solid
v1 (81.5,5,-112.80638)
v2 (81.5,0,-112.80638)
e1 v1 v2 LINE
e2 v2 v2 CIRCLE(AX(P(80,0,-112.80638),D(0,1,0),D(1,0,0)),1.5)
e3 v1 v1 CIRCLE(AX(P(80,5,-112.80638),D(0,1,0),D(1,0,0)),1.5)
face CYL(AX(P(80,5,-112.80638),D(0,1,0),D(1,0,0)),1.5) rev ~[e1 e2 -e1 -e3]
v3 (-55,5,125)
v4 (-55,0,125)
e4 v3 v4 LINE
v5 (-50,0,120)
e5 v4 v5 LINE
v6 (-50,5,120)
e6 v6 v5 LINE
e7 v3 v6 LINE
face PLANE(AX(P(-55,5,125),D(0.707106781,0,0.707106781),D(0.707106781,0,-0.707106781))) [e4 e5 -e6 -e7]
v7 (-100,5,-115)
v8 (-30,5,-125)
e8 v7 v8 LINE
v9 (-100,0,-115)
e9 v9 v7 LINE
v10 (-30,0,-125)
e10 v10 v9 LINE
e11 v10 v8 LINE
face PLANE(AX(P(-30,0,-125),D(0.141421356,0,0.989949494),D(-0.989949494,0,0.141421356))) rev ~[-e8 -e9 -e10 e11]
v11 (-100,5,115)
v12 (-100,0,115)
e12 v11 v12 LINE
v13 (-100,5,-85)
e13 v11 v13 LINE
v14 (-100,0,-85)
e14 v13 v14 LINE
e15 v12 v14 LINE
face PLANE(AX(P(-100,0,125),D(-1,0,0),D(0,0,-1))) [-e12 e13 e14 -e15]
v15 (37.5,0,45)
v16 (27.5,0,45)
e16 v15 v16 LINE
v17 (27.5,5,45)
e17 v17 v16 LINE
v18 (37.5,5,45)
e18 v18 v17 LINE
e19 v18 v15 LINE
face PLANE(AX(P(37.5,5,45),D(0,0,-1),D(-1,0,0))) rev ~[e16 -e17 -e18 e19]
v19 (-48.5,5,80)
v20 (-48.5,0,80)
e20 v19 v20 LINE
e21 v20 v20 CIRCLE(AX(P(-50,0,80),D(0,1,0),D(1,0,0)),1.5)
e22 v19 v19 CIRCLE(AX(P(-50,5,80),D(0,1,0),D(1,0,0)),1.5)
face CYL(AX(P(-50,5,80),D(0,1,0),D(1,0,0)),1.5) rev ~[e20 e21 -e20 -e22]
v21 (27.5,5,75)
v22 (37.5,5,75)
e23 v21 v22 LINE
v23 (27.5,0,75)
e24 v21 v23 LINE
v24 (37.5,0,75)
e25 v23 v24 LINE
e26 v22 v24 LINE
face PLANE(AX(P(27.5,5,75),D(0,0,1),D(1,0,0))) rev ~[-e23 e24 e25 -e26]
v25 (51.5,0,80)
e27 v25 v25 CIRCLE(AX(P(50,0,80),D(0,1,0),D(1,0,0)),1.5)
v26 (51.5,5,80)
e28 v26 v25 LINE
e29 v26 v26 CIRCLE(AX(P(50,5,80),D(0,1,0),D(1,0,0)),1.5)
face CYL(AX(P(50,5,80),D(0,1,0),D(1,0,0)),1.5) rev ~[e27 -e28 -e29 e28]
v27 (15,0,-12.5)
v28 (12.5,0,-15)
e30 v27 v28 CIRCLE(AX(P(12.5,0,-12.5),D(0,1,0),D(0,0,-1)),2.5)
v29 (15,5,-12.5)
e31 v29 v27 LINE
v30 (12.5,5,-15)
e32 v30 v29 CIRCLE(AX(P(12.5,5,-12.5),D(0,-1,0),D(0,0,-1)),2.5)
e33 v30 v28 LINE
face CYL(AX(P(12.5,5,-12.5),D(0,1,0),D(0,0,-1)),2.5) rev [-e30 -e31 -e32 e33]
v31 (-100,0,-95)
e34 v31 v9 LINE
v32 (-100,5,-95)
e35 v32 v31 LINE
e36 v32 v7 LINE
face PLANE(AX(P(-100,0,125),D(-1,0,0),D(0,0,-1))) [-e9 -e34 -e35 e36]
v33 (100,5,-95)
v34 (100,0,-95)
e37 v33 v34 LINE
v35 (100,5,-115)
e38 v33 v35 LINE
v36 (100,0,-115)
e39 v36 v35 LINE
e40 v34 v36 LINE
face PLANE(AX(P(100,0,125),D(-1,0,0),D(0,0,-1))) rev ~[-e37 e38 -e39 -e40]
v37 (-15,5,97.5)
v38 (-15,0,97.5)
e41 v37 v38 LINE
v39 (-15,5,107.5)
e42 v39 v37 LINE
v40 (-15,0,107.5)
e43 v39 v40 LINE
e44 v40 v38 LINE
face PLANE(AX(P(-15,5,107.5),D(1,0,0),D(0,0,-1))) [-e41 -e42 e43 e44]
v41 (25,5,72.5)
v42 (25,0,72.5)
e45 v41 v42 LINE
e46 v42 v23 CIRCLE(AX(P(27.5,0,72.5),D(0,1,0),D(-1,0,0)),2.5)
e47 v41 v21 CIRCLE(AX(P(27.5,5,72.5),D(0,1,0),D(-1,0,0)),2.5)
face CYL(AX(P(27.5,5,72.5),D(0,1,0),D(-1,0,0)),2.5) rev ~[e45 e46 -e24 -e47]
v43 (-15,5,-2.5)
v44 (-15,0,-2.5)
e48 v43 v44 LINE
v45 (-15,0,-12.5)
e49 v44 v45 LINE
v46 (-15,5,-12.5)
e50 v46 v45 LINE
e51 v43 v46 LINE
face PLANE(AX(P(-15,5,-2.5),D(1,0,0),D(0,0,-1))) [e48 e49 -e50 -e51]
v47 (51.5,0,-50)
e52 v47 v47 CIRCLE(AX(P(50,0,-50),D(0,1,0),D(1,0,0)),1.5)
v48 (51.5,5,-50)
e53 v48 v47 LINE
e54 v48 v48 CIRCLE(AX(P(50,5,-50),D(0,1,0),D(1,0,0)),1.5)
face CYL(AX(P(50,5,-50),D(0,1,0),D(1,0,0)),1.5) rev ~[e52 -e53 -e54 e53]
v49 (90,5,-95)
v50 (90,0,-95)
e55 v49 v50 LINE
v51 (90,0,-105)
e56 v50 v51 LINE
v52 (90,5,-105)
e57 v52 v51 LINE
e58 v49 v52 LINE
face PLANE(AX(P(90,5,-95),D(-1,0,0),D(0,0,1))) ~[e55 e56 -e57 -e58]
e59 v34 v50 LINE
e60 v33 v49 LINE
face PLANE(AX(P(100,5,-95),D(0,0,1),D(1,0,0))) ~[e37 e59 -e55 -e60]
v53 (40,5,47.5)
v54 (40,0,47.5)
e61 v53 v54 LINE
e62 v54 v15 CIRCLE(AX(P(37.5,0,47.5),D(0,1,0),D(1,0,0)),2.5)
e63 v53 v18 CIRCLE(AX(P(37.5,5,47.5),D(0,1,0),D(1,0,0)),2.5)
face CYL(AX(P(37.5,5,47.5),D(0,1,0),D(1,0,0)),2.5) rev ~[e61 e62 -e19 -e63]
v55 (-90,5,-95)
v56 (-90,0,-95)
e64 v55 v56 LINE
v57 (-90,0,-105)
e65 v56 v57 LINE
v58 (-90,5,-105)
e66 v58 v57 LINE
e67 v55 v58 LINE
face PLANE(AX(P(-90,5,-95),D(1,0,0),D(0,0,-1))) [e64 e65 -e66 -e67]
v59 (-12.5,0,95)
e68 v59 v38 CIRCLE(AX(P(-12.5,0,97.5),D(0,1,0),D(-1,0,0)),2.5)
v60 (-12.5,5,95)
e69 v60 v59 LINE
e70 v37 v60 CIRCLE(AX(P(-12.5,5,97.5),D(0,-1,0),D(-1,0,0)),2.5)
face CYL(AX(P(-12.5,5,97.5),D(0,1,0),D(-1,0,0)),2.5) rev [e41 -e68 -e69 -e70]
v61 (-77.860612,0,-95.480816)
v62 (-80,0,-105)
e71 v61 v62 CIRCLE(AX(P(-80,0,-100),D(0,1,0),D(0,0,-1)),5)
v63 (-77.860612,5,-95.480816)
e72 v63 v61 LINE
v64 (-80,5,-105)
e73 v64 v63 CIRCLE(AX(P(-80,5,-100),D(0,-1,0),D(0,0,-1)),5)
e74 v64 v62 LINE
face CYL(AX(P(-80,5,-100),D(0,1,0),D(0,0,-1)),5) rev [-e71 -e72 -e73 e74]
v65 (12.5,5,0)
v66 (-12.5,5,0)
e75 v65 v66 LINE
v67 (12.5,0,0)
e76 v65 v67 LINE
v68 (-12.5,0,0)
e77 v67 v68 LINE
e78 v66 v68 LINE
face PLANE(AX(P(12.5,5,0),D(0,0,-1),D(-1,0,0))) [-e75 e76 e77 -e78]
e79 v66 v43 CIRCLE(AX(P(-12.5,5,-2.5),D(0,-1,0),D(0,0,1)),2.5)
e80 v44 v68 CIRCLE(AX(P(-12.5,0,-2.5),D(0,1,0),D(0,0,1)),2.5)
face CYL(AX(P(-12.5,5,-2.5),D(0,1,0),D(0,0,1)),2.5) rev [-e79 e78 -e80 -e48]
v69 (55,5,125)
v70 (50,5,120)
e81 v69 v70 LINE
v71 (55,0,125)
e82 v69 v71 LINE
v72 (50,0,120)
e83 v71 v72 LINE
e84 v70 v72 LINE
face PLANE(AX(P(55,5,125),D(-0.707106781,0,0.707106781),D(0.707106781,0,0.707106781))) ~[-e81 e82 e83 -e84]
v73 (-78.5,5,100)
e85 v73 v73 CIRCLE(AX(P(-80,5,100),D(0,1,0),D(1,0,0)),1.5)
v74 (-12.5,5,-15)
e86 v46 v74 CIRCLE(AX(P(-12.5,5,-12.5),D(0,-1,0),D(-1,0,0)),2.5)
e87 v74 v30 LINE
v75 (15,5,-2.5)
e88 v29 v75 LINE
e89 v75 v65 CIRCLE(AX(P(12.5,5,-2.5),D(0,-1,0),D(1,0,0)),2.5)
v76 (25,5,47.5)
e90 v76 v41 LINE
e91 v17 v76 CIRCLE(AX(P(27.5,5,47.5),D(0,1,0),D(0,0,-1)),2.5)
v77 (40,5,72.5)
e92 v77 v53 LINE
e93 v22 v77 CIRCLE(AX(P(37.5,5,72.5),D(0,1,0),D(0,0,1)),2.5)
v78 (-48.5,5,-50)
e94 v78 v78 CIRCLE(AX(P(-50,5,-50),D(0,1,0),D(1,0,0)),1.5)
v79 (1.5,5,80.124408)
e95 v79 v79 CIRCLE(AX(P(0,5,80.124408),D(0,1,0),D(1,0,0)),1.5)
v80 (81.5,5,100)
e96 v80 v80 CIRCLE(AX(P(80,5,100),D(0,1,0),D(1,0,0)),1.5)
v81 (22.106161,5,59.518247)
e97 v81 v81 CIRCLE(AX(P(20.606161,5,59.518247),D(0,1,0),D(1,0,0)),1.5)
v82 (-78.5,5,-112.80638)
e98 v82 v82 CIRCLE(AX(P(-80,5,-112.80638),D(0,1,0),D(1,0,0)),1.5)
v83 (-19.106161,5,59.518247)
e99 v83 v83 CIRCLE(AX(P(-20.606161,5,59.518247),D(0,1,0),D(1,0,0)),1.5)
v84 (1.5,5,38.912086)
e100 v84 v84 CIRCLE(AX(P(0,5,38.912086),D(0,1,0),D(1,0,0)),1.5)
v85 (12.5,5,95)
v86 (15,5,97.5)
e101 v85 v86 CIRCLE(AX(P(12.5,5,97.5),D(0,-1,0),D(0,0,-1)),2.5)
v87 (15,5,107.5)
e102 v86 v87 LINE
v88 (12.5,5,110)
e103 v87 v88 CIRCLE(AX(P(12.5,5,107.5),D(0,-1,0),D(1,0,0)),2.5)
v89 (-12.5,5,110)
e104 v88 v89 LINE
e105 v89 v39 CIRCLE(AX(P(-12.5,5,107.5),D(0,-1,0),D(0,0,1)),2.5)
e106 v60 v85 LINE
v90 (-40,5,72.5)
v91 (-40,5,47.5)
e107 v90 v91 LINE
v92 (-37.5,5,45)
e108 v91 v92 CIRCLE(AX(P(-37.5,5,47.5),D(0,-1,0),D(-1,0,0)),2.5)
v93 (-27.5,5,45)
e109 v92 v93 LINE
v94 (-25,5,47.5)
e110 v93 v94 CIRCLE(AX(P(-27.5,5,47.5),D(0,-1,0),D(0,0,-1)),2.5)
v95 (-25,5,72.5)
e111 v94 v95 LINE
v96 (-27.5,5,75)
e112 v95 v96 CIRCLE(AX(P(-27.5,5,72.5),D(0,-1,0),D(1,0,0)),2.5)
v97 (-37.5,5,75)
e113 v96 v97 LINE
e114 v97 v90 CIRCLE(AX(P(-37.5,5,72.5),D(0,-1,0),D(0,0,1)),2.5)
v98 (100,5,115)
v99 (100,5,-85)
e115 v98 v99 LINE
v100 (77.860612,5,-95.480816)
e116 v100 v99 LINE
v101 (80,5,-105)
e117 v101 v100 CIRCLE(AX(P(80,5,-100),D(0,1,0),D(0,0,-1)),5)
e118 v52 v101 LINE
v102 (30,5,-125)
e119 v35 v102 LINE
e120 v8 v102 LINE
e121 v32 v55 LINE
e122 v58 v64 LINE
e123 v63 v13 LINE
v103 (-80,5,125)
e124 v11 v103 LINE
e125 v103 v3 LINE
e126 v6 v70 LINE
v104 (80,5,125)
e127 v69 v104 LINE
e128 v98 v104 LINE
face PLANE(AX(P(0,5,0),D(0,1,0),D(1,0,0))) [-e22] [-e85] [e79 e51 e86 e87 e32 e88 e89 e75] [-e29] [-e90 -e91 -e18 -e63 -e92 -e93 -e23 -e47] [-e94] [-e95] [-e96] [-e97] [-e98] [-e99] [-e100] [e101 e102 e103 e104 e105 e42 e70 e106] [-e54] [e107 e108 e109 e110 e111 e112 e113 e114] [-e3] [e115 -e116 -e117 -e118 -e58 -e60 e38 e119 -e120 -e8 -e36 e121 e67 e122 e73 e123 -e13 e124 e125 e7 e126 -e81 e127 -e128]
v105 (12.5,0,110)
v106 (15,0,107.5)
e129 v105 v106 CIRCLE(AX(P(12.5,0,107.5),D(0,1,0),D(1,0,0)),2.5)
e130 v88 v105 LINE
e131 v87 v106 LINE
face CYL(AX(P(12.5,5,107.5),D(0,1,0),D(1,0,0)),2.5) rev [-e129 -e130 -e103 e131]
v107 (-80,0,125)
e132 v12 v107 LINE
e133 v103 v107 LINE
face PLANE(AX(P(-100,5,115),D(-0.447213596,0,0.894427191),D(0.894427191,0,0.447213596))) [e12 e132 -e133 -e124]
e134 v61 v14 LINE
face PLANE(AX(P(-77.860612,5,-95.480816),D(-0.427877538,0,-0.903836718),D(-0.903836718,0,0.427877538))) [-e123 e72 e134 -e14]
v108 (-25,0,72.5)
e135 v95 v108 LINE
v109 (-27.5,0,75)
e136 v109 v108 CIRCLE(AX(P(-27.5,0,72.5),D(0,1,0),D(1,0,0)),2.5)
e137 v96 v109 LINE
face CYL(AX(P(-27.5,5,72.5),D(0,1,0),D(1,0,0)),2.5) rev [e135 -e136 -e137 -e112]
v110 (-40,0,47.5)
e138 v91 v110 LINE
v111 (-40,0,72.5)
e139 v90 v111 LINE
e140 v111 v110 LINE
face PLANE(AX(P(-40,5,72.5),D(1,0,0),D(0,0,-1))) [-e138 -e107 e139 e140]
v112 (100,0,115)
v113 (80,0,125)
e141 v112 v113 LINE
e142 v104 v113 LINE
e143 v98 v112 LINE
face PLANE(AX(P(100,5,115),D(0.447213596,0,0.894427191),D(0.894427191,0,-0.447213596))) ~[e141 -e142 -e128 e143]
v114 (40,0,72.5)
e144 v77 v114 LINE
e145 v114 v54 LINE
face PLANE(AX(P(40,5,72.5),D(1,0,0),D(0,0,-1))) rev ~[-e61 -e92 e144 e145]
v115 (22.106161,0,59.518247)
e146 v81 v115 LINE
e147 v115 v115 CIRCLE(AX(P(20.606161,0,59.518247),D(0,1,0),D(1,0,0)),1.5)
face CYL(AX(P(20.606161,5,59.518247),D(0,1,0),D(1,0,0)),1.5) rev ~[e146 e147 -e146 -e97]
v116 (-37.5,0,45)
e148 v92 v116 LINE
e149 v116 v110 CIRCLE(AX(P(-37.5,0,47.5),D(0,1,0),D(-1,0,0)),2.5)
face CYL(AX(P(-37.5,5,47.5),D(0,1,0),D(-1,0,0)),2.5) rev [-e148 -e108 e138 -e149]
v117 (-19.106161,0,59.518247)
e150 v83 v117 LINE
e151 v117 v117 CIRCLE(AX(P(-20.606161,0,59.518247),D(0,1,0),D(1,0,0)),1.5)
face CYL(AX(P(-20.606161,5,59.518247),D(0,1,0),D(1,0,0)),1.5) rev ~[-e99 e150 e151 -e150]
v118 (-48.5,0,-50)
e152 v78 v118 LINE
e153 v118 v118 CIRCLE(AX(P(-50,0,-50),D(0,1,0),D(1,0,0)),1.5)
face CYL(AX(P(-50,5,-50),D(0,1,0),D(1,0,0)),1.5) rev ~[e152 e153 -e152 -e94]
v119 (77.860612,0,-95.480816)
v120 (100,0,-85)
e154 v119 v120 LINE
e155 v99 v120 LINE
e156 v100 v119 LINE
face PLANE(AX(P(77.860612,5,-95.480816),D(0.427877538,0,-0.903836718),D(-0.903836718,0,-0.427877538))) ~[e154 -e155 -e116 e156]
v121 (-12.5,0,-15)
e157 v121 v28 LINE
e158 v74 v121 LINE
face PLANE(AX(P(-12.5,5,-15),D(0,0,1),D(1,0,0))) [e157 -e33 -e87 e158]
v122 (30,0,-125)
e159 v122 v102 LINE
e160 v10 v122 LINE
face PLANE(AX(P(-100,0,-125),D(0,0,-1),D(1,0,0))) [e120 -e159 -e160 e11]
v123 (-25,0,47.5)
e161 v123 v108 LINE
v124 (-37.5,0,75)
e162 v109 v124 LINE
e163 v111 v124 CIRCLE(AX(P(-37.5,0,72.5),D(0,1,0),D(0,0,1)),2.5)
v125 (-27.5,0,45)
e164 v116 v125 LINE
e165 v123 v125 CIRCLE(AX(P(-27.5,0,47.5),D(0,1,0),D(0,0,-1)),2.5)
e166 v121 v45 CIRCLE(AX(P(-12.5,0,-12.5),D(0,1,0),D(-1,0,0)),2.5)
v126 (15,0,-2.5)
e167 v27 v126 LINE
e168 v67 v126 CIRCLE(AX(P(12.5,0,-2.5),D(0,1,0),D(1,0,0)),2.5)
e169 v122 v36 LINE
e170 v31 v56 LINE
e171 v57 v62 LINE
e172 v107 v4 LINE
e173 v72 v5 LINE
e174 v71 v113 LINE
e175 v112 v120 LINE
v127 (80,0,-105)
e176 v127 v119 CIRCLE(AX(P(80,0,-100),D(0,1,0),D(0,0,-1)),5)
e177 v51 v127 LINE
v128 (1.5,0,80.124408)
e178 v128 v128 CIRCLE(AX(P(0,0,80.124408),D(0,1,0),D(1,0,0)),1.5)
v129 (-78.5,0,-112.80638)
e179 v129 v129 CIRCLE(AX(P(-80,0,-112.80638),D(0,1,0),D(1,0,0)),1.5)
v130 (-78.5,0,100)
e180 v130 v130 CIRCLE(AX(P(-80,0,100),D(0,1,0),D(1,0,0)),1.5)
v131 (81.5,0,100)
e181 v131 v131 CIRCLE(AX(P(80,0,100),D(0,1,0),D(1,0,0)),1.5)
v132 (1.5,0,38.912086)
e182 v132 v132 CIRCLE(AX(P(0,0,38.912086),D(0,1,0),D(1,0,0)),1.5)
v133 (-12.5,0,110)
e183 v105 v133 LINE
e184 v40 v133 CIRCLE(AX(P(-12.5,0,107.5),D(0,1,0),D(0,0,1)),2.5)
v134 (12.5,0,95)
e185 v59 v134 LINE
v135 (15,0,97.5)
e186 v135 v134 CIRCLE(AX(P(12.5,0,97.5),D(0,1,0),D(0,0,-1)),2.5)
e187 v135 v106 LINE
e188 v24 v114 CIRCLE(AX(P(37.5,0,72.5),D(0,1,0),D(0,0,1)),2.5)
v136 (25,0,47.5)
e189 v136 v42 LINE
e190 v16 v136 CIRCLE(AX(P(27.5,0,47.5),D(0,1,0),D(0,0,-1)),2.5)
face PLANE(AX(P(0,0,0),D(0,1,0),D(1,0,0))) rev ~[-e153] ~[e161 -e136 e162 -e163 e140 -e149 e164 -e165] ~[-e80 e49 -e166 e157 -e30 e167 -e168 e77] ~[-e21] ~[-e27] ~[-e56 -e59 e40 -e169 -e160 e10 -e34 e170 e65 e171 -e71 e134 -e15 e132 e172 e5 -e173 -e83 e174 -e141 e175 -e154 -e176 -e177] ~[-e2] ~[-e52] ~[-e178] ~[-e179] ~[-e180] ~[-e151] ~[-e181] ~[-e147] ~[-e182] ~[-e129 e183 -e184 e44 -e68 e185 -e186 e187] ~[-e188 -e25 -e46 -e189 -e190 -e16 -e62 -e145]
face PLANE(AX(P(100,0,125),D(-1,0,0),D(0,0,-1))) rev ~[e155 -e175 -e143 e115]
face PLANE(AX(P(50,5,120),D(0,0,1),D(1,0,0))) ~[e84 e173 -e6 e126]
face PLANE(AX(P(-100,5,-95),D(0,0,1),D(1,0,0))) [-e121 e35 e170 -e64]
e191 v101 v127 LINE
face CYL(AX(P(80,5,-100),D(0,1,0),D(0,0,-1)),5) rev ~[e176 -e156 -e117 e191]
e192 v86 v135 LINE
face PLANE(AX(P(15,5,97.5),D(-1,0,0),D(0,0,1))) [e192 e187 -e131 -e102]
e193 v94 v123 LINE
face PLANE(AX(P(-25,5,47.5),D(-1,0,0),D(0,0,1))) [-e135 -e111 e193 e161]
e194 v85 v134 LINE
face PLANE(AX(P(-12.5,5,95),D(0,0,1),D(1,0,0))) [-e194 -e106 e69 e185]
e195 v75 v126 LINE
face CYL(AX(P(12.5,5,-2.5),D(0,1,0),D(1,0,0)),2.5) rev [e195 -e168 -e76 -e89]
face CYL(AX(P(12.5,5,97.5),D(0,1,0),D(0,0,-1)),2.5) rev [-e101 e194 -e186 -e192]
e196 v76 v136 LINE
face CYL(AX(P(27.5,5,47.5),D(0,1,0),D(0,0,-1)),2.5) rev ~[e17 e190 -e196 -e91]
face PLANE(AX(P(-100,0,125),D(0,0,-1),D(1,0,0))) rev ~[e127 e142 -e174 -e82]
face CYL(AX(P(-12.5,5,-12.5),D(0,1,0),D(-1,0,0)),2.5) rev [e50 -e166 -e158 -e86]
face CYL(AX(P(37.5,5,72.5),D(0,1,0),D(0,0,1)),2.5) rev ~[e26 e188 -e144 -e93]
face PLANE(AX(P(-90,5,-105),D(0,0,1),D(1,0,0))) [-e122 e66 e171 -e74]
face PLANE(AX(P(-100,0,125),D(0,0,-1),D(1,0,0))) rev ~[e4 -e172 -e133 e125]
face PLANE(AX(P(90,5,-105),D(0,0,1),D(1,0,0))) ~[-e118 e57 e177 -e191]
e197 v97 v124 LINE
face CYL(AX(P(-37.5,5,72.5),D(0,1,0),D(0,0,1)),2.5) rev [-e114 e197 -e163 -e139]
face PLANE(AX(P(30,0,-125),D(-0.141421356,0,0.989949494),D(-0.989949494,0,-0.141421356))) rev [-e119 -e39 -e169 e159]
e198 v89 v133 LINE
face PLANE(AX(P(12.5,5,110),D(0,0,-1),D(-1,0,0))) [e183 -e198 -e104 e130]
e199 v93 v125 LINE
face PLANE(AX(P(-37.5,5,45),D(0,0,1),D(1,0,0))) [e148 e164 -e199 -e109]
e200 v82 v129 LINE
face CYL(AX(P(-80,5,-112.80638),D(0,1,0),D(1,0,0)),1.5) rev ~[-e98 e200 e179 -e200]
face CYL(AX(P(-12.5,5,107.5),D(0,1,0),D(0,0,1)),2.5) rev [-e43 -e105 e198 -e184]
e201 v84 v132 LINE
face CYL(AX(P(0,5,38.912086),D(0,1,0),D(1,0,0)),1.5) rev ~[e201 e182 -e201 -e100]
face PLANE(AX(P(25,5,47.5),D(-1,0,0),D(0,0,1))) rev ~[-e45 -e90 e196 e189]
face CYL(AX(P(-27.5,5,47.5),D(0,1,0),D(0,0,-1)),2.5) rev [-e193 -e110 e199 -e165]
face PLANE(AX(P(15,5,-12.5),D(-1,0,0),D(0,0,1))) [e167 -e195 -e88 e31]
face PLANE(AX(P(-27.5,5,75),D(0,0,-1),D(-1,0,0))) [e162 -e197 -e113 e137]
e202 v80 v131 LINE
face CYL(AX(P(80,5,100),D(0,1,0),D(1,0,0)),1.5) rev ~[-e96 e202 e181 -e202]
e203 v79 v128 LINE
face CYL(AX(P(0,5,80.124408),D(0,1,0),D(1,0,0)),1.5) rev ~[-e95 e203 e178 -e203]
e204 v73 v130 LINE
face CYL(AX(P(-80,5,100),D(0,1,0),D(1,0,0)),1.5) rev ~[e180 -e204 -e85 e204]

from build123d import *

# Parameters (mm, degrees)
SKETCH_1_W           = 200
SKETCH_1_H           = 250
EXTRUDE_1_DEPTH      = 5
CUT_EXTRUDE_1_DEPTH  = 35
CUT_EXTRUDE_2_DEPTH  = 35
CUT_EXTRUDE_3_DEPTH  = 35
CUT_EXTRUDE_5_DEPTH  = 30
CUT_EXTRUDE_6_DEPTH  = 10
CUT_EXTRUDE_7_DEPTH  = 10
SKETCH_9_R           = 1.5
CUT_EXTRUDE_8_DEPTH  = 10
SKETCH_10_R          = 1.5
CUT_EXTRUDE_9_DEPTH  = 10
SKETCH_12_R          = 1.5
CUT_EXTRUDE_10_DEPTH = 10
SKETCH_13_R          = 1.5
CUT_EXTRUDE_11_DEPTH = 10


with BuildPart() as part:
    # 草图1 → 凸台-拉伸1 (new body)
    with BuildSketch(Plane(origin=(0, 0, 0), x_dir=(1, 0, 0), z_dir=(0, 1, 0))):
        Rectangle(SKETCH_1_W, SKETCH_1_H)
    extrude(amount=EXTRUDE_1_DEPTH)

    # 草图2 → 切除-拉伸1 (cut)
    with BuildSketch(Plane(origin=(0, 5, 0), x_dir=(1, 0, 0), z_dir=(0, 1, 0))):
        Polygon((-100, -115), (-80, -125), (-100, -125), align=None)
    cut_extrude_1 = extrude(amount=-CUT_EXTRUDE_1_DEPTH, mode=Mode.SUBTRACT)

    # 镜向1: 切除-拉伸1 across plane
    add(cut_extrude_1.mirror(Plane(origin=(0, 0, 0), x_dir=(0, 0, 1), z_dir=(1, 0, 0))), mode=Mode.SUBTRACT)

    # 草图3 → 切除-拉伸2 (cut)
    with BuildSketch(Plane(origin=(0, 5, 0), x_dir=(1, 0, 0), z_dir=(0, 1, 0))):
        Polygon((-55, -125), (-50, -120), (0, -120), (0, -125), align=None)
    cut_extrude_2 = extrude(amount=-CUT_EXTRUDE_2_DEPTH, mode=Mode.SUBTRACT)

    # 镜向2: 切除-拉伸2 across plane
    add(cut_extrude_2.mirror(Plane(origin=(0, 0, 0), x_dir=(0, 0, 1), z_dir=(1, 0, 0))), mode=Mode.SUBTRACT)

    # 草图4 → 切除-拉伸3 (cut)
    with BuildSketch(Plane(origin=(0, 5, 0), x_dir=(1, 0, 0), z_dir=(0, 1, 0))):
        with BuildLine():
            Line((-12.5, -95), (12.5, -95))
            ThreePointArc((12.5, -95), (14.267766953, -95.732233047), (15, -97.5))
            Line((15, -97.5), (15, -107.5))
            ThreePointArc((15, -107.5), (14.267766953, -109.267766953), (12.5, -110))
            Line((12.5, -110), (-12.5, -110))
            ThreePointArc((-12.5, -110), (-14.267766953, -109.267766953), (-15, -107.5))
            Line((-15, -107.5), (-15, -97.5))
            ThreePointArc((-15, -97.5), (-14.267766953, -95.732233047), (-12.5, -95))
        make_face()
    extrude(amount=-CUT_EXTRUDE_3_DEPTH, mode=Mode.SUBTRACT)

    # 草图5 → 切除-拉伸5 (cut)
    with BuildSketch(Plane(origin=(0, 0, 0), x_dir=(1, 0, 0), z_dir=(0, 1, 0))):
        Polygon((-30, 125), (-100, 115), (-100, 125), align=None)
    cut_extrude_5 = extrude(amount=CUT_EXTRUDE_5_DEPTH, mode=Mode.SUBTRACT)

    # 镜向3: 切除-拉伸5 across plane
    add(cut_extrude_5.mirror(Plane(origin=(0, 0, 0), x_dir=(0, 0, 1), z_dir=(1, 0, 0))), mode=Mode.SUBTRACT)

    # 草图6 → 切除-拉伸6 (cut)
    with BuildSketch(Plane(origin=(0, 5, 0), x_dir=(1, 0, 0), z_dir=(0, 1, 0))):
        with BuildLine():
            Line((-100, 95), (-90, 95))
            Line((-90, 95), (-90, 105))
            Line((-90, 105), (-80, 105))
            ThreePointArc((-80, 105), (-75.121684822, 101.096376317), (-77.860612309, 95.480816412))
            Line((-77.860612309, 95.480816412), (-100, 85))
            Line((-100, 85), (-100, 95))
        make_face()
    cut_extrude_6 = extrude(amount=-CUT_EXTRUDE_6_DEPTH, mode=Mode.SUBTRACT)

    # 镜向4: 切除-拉伸6 across plane
    add(cut_extrude_6.mirror(Plane(origin=(0, 0, 0), x_dir=(0, 0, 1), z_dir=(1, 0, 0))), mode=Mode.SUBTRACT)

    # 草图8 → 切除-拉伸7 (cut)
    with BuildSketch(Plane(origin=(0, 5, 0), x_dir=(1, 0, 0), z_dir=(0, 1, 0))):
        with BuildLine():
            Line((-37.5, -45), (-27.5, -45))
            ThreePointArc((-27.5, -45), (-25.732233047, -45.732233047), (-25, -47.5))
            Line((-25, -47.5), (-25, -72.5))
            ThreePointArc((-25, -72.5), (-25.732233047, -74.267766953), (-27.5, -75))
            Line((-27.5, -75), (-37.5, -75))
            ThreePointArc((-37.5, -75), (-39.267766953, -74.267766953), (-40, -72.5))
            Line((-40, -72.5), (-40, -47.5))
            ThreePointArc((-40, -47.5), (-39.267766953, -45.732233047), (-37.5, -45))
        make_face()
        with BuildLine():
            Line((25, -47.5), (25, -72.5))
            ThreePointArc((25, -72.5), (25.732233047, -74.267766953), (27.5, -75))
            Line((27.5, -75), (37.5, -75))
            ThreePointArc((37.5, -75), (39.267766953, -74.267766953), (40, -72.5))
            Line((40, -72.5), (40, -47.5))
            ThreePointArc((40, -47.5), (39.267766953, -45.732233047), (37.5, -45))
            Line((37.5, -45), (27.5, -45))
            ThreePointArc((27.5, -45), (25.732233047, -45.732233047), (25, -47.5))
        make_face()
        with BuildLine():
            Line((-12.5, 15), (12.5, 15))
            ThreePointArc((12.5, 15), (14.267766953, 14.267766953), (15, 12.5))
            Line((15, 12.5), (15, 2.5))
            ThreePointArc((15, 2.5), (14.267766953, 0.732233047), (12.5, 0))
            Line((12.5, 0), (-12.5, 0))
            ThreePointArc((-12.5, 0), (-14.267766953, 0.732233047), (-15, 2.5))
            Line((-15, 2.5), (-15, 12.5))
            ThreePointArc((-15, 12.5), (-14.267766953, 14.267766953), (-12.5, 15))
        make_face()
    extrude(amount=-CUT_EXTRUDE_7_DEPTH, mode=Mode.SUBTRACT)

    # 草图9 → 切除-拉伸8 (cut)
    with BuildSketch(Plane(origin=(0, 5, 0), x_dir=(1, 0, 0), z_dir=(0, 1, 0))):
        with Locations((-80, -100)):
            Circle(SKETCH_9_R)
        with Locations((80, -100)):
            Circle(SKETCH_9_R)
    extrude(amount=-CUT_EXTRUDE_8_DEPTH, mode=Mode.SUBTRACT)

    # 草图10 → 切除-拉伸9 (cut)
    with BuildSketch(Plane(origin=(0, 5, 0), x_dir=(1, 0, 0), z_dir=(0, 1, 0))):
        with Locations((-80, 112.806380134)):
            Circle(SKETCH_10_R)
        with Locations((80, 112.806380134)):
            Circle(SKETCH_10_R)
    extrude(amount=-CUT_EXTRUDE_9_DEPTH, mode=Mode.SUBTRACT)

    # 草图12 → 切除-拉伸10 (cut)
    with BuildSketch(Plane(origin=(0, 5, 0), x_dir=(1, 0, 0), z_dir=(0, 1, 0))):
        with Locations((0, -38.912086487)):
            Circle(SKETCH_12_R)
        with Locations((-20.60616084, -59.518247327)):
            Circle(SKETCH_12_R)
        with Locations((20.60616084, -59.518247327)):
            Circle(SKETCH_12_R)
        with Locations((0, -80.124408167)):
            Circle(SKETCH_12_R)
    extrude(amount=-CUT_EXTRUDE_10_DEPTH, mode=Mode.SUBTRACT)

    # 草图13 → 切除-拉伸11 (cut)
    with BuildSketch(Plane(origin=(0, 5, 0), x_dir=(1, 0, 0), z_dir=(0, 1, 0))):
        with Locations((-50, -80)):
            Circle(SKETCH_13_R)
        with Locations((50, -80)):
            Circle(SKETCH_13_R)
        with Locations((-50, 50)):
            Circle(SKETCH_13_R)
        with Locations((50, 50)):
            Circle(SKETCH_13_R)
    extrude(amount=-CUT_EXTRUDE_11_DEPTH, mode=Mode.SUBTRACT)


solid = part.part
